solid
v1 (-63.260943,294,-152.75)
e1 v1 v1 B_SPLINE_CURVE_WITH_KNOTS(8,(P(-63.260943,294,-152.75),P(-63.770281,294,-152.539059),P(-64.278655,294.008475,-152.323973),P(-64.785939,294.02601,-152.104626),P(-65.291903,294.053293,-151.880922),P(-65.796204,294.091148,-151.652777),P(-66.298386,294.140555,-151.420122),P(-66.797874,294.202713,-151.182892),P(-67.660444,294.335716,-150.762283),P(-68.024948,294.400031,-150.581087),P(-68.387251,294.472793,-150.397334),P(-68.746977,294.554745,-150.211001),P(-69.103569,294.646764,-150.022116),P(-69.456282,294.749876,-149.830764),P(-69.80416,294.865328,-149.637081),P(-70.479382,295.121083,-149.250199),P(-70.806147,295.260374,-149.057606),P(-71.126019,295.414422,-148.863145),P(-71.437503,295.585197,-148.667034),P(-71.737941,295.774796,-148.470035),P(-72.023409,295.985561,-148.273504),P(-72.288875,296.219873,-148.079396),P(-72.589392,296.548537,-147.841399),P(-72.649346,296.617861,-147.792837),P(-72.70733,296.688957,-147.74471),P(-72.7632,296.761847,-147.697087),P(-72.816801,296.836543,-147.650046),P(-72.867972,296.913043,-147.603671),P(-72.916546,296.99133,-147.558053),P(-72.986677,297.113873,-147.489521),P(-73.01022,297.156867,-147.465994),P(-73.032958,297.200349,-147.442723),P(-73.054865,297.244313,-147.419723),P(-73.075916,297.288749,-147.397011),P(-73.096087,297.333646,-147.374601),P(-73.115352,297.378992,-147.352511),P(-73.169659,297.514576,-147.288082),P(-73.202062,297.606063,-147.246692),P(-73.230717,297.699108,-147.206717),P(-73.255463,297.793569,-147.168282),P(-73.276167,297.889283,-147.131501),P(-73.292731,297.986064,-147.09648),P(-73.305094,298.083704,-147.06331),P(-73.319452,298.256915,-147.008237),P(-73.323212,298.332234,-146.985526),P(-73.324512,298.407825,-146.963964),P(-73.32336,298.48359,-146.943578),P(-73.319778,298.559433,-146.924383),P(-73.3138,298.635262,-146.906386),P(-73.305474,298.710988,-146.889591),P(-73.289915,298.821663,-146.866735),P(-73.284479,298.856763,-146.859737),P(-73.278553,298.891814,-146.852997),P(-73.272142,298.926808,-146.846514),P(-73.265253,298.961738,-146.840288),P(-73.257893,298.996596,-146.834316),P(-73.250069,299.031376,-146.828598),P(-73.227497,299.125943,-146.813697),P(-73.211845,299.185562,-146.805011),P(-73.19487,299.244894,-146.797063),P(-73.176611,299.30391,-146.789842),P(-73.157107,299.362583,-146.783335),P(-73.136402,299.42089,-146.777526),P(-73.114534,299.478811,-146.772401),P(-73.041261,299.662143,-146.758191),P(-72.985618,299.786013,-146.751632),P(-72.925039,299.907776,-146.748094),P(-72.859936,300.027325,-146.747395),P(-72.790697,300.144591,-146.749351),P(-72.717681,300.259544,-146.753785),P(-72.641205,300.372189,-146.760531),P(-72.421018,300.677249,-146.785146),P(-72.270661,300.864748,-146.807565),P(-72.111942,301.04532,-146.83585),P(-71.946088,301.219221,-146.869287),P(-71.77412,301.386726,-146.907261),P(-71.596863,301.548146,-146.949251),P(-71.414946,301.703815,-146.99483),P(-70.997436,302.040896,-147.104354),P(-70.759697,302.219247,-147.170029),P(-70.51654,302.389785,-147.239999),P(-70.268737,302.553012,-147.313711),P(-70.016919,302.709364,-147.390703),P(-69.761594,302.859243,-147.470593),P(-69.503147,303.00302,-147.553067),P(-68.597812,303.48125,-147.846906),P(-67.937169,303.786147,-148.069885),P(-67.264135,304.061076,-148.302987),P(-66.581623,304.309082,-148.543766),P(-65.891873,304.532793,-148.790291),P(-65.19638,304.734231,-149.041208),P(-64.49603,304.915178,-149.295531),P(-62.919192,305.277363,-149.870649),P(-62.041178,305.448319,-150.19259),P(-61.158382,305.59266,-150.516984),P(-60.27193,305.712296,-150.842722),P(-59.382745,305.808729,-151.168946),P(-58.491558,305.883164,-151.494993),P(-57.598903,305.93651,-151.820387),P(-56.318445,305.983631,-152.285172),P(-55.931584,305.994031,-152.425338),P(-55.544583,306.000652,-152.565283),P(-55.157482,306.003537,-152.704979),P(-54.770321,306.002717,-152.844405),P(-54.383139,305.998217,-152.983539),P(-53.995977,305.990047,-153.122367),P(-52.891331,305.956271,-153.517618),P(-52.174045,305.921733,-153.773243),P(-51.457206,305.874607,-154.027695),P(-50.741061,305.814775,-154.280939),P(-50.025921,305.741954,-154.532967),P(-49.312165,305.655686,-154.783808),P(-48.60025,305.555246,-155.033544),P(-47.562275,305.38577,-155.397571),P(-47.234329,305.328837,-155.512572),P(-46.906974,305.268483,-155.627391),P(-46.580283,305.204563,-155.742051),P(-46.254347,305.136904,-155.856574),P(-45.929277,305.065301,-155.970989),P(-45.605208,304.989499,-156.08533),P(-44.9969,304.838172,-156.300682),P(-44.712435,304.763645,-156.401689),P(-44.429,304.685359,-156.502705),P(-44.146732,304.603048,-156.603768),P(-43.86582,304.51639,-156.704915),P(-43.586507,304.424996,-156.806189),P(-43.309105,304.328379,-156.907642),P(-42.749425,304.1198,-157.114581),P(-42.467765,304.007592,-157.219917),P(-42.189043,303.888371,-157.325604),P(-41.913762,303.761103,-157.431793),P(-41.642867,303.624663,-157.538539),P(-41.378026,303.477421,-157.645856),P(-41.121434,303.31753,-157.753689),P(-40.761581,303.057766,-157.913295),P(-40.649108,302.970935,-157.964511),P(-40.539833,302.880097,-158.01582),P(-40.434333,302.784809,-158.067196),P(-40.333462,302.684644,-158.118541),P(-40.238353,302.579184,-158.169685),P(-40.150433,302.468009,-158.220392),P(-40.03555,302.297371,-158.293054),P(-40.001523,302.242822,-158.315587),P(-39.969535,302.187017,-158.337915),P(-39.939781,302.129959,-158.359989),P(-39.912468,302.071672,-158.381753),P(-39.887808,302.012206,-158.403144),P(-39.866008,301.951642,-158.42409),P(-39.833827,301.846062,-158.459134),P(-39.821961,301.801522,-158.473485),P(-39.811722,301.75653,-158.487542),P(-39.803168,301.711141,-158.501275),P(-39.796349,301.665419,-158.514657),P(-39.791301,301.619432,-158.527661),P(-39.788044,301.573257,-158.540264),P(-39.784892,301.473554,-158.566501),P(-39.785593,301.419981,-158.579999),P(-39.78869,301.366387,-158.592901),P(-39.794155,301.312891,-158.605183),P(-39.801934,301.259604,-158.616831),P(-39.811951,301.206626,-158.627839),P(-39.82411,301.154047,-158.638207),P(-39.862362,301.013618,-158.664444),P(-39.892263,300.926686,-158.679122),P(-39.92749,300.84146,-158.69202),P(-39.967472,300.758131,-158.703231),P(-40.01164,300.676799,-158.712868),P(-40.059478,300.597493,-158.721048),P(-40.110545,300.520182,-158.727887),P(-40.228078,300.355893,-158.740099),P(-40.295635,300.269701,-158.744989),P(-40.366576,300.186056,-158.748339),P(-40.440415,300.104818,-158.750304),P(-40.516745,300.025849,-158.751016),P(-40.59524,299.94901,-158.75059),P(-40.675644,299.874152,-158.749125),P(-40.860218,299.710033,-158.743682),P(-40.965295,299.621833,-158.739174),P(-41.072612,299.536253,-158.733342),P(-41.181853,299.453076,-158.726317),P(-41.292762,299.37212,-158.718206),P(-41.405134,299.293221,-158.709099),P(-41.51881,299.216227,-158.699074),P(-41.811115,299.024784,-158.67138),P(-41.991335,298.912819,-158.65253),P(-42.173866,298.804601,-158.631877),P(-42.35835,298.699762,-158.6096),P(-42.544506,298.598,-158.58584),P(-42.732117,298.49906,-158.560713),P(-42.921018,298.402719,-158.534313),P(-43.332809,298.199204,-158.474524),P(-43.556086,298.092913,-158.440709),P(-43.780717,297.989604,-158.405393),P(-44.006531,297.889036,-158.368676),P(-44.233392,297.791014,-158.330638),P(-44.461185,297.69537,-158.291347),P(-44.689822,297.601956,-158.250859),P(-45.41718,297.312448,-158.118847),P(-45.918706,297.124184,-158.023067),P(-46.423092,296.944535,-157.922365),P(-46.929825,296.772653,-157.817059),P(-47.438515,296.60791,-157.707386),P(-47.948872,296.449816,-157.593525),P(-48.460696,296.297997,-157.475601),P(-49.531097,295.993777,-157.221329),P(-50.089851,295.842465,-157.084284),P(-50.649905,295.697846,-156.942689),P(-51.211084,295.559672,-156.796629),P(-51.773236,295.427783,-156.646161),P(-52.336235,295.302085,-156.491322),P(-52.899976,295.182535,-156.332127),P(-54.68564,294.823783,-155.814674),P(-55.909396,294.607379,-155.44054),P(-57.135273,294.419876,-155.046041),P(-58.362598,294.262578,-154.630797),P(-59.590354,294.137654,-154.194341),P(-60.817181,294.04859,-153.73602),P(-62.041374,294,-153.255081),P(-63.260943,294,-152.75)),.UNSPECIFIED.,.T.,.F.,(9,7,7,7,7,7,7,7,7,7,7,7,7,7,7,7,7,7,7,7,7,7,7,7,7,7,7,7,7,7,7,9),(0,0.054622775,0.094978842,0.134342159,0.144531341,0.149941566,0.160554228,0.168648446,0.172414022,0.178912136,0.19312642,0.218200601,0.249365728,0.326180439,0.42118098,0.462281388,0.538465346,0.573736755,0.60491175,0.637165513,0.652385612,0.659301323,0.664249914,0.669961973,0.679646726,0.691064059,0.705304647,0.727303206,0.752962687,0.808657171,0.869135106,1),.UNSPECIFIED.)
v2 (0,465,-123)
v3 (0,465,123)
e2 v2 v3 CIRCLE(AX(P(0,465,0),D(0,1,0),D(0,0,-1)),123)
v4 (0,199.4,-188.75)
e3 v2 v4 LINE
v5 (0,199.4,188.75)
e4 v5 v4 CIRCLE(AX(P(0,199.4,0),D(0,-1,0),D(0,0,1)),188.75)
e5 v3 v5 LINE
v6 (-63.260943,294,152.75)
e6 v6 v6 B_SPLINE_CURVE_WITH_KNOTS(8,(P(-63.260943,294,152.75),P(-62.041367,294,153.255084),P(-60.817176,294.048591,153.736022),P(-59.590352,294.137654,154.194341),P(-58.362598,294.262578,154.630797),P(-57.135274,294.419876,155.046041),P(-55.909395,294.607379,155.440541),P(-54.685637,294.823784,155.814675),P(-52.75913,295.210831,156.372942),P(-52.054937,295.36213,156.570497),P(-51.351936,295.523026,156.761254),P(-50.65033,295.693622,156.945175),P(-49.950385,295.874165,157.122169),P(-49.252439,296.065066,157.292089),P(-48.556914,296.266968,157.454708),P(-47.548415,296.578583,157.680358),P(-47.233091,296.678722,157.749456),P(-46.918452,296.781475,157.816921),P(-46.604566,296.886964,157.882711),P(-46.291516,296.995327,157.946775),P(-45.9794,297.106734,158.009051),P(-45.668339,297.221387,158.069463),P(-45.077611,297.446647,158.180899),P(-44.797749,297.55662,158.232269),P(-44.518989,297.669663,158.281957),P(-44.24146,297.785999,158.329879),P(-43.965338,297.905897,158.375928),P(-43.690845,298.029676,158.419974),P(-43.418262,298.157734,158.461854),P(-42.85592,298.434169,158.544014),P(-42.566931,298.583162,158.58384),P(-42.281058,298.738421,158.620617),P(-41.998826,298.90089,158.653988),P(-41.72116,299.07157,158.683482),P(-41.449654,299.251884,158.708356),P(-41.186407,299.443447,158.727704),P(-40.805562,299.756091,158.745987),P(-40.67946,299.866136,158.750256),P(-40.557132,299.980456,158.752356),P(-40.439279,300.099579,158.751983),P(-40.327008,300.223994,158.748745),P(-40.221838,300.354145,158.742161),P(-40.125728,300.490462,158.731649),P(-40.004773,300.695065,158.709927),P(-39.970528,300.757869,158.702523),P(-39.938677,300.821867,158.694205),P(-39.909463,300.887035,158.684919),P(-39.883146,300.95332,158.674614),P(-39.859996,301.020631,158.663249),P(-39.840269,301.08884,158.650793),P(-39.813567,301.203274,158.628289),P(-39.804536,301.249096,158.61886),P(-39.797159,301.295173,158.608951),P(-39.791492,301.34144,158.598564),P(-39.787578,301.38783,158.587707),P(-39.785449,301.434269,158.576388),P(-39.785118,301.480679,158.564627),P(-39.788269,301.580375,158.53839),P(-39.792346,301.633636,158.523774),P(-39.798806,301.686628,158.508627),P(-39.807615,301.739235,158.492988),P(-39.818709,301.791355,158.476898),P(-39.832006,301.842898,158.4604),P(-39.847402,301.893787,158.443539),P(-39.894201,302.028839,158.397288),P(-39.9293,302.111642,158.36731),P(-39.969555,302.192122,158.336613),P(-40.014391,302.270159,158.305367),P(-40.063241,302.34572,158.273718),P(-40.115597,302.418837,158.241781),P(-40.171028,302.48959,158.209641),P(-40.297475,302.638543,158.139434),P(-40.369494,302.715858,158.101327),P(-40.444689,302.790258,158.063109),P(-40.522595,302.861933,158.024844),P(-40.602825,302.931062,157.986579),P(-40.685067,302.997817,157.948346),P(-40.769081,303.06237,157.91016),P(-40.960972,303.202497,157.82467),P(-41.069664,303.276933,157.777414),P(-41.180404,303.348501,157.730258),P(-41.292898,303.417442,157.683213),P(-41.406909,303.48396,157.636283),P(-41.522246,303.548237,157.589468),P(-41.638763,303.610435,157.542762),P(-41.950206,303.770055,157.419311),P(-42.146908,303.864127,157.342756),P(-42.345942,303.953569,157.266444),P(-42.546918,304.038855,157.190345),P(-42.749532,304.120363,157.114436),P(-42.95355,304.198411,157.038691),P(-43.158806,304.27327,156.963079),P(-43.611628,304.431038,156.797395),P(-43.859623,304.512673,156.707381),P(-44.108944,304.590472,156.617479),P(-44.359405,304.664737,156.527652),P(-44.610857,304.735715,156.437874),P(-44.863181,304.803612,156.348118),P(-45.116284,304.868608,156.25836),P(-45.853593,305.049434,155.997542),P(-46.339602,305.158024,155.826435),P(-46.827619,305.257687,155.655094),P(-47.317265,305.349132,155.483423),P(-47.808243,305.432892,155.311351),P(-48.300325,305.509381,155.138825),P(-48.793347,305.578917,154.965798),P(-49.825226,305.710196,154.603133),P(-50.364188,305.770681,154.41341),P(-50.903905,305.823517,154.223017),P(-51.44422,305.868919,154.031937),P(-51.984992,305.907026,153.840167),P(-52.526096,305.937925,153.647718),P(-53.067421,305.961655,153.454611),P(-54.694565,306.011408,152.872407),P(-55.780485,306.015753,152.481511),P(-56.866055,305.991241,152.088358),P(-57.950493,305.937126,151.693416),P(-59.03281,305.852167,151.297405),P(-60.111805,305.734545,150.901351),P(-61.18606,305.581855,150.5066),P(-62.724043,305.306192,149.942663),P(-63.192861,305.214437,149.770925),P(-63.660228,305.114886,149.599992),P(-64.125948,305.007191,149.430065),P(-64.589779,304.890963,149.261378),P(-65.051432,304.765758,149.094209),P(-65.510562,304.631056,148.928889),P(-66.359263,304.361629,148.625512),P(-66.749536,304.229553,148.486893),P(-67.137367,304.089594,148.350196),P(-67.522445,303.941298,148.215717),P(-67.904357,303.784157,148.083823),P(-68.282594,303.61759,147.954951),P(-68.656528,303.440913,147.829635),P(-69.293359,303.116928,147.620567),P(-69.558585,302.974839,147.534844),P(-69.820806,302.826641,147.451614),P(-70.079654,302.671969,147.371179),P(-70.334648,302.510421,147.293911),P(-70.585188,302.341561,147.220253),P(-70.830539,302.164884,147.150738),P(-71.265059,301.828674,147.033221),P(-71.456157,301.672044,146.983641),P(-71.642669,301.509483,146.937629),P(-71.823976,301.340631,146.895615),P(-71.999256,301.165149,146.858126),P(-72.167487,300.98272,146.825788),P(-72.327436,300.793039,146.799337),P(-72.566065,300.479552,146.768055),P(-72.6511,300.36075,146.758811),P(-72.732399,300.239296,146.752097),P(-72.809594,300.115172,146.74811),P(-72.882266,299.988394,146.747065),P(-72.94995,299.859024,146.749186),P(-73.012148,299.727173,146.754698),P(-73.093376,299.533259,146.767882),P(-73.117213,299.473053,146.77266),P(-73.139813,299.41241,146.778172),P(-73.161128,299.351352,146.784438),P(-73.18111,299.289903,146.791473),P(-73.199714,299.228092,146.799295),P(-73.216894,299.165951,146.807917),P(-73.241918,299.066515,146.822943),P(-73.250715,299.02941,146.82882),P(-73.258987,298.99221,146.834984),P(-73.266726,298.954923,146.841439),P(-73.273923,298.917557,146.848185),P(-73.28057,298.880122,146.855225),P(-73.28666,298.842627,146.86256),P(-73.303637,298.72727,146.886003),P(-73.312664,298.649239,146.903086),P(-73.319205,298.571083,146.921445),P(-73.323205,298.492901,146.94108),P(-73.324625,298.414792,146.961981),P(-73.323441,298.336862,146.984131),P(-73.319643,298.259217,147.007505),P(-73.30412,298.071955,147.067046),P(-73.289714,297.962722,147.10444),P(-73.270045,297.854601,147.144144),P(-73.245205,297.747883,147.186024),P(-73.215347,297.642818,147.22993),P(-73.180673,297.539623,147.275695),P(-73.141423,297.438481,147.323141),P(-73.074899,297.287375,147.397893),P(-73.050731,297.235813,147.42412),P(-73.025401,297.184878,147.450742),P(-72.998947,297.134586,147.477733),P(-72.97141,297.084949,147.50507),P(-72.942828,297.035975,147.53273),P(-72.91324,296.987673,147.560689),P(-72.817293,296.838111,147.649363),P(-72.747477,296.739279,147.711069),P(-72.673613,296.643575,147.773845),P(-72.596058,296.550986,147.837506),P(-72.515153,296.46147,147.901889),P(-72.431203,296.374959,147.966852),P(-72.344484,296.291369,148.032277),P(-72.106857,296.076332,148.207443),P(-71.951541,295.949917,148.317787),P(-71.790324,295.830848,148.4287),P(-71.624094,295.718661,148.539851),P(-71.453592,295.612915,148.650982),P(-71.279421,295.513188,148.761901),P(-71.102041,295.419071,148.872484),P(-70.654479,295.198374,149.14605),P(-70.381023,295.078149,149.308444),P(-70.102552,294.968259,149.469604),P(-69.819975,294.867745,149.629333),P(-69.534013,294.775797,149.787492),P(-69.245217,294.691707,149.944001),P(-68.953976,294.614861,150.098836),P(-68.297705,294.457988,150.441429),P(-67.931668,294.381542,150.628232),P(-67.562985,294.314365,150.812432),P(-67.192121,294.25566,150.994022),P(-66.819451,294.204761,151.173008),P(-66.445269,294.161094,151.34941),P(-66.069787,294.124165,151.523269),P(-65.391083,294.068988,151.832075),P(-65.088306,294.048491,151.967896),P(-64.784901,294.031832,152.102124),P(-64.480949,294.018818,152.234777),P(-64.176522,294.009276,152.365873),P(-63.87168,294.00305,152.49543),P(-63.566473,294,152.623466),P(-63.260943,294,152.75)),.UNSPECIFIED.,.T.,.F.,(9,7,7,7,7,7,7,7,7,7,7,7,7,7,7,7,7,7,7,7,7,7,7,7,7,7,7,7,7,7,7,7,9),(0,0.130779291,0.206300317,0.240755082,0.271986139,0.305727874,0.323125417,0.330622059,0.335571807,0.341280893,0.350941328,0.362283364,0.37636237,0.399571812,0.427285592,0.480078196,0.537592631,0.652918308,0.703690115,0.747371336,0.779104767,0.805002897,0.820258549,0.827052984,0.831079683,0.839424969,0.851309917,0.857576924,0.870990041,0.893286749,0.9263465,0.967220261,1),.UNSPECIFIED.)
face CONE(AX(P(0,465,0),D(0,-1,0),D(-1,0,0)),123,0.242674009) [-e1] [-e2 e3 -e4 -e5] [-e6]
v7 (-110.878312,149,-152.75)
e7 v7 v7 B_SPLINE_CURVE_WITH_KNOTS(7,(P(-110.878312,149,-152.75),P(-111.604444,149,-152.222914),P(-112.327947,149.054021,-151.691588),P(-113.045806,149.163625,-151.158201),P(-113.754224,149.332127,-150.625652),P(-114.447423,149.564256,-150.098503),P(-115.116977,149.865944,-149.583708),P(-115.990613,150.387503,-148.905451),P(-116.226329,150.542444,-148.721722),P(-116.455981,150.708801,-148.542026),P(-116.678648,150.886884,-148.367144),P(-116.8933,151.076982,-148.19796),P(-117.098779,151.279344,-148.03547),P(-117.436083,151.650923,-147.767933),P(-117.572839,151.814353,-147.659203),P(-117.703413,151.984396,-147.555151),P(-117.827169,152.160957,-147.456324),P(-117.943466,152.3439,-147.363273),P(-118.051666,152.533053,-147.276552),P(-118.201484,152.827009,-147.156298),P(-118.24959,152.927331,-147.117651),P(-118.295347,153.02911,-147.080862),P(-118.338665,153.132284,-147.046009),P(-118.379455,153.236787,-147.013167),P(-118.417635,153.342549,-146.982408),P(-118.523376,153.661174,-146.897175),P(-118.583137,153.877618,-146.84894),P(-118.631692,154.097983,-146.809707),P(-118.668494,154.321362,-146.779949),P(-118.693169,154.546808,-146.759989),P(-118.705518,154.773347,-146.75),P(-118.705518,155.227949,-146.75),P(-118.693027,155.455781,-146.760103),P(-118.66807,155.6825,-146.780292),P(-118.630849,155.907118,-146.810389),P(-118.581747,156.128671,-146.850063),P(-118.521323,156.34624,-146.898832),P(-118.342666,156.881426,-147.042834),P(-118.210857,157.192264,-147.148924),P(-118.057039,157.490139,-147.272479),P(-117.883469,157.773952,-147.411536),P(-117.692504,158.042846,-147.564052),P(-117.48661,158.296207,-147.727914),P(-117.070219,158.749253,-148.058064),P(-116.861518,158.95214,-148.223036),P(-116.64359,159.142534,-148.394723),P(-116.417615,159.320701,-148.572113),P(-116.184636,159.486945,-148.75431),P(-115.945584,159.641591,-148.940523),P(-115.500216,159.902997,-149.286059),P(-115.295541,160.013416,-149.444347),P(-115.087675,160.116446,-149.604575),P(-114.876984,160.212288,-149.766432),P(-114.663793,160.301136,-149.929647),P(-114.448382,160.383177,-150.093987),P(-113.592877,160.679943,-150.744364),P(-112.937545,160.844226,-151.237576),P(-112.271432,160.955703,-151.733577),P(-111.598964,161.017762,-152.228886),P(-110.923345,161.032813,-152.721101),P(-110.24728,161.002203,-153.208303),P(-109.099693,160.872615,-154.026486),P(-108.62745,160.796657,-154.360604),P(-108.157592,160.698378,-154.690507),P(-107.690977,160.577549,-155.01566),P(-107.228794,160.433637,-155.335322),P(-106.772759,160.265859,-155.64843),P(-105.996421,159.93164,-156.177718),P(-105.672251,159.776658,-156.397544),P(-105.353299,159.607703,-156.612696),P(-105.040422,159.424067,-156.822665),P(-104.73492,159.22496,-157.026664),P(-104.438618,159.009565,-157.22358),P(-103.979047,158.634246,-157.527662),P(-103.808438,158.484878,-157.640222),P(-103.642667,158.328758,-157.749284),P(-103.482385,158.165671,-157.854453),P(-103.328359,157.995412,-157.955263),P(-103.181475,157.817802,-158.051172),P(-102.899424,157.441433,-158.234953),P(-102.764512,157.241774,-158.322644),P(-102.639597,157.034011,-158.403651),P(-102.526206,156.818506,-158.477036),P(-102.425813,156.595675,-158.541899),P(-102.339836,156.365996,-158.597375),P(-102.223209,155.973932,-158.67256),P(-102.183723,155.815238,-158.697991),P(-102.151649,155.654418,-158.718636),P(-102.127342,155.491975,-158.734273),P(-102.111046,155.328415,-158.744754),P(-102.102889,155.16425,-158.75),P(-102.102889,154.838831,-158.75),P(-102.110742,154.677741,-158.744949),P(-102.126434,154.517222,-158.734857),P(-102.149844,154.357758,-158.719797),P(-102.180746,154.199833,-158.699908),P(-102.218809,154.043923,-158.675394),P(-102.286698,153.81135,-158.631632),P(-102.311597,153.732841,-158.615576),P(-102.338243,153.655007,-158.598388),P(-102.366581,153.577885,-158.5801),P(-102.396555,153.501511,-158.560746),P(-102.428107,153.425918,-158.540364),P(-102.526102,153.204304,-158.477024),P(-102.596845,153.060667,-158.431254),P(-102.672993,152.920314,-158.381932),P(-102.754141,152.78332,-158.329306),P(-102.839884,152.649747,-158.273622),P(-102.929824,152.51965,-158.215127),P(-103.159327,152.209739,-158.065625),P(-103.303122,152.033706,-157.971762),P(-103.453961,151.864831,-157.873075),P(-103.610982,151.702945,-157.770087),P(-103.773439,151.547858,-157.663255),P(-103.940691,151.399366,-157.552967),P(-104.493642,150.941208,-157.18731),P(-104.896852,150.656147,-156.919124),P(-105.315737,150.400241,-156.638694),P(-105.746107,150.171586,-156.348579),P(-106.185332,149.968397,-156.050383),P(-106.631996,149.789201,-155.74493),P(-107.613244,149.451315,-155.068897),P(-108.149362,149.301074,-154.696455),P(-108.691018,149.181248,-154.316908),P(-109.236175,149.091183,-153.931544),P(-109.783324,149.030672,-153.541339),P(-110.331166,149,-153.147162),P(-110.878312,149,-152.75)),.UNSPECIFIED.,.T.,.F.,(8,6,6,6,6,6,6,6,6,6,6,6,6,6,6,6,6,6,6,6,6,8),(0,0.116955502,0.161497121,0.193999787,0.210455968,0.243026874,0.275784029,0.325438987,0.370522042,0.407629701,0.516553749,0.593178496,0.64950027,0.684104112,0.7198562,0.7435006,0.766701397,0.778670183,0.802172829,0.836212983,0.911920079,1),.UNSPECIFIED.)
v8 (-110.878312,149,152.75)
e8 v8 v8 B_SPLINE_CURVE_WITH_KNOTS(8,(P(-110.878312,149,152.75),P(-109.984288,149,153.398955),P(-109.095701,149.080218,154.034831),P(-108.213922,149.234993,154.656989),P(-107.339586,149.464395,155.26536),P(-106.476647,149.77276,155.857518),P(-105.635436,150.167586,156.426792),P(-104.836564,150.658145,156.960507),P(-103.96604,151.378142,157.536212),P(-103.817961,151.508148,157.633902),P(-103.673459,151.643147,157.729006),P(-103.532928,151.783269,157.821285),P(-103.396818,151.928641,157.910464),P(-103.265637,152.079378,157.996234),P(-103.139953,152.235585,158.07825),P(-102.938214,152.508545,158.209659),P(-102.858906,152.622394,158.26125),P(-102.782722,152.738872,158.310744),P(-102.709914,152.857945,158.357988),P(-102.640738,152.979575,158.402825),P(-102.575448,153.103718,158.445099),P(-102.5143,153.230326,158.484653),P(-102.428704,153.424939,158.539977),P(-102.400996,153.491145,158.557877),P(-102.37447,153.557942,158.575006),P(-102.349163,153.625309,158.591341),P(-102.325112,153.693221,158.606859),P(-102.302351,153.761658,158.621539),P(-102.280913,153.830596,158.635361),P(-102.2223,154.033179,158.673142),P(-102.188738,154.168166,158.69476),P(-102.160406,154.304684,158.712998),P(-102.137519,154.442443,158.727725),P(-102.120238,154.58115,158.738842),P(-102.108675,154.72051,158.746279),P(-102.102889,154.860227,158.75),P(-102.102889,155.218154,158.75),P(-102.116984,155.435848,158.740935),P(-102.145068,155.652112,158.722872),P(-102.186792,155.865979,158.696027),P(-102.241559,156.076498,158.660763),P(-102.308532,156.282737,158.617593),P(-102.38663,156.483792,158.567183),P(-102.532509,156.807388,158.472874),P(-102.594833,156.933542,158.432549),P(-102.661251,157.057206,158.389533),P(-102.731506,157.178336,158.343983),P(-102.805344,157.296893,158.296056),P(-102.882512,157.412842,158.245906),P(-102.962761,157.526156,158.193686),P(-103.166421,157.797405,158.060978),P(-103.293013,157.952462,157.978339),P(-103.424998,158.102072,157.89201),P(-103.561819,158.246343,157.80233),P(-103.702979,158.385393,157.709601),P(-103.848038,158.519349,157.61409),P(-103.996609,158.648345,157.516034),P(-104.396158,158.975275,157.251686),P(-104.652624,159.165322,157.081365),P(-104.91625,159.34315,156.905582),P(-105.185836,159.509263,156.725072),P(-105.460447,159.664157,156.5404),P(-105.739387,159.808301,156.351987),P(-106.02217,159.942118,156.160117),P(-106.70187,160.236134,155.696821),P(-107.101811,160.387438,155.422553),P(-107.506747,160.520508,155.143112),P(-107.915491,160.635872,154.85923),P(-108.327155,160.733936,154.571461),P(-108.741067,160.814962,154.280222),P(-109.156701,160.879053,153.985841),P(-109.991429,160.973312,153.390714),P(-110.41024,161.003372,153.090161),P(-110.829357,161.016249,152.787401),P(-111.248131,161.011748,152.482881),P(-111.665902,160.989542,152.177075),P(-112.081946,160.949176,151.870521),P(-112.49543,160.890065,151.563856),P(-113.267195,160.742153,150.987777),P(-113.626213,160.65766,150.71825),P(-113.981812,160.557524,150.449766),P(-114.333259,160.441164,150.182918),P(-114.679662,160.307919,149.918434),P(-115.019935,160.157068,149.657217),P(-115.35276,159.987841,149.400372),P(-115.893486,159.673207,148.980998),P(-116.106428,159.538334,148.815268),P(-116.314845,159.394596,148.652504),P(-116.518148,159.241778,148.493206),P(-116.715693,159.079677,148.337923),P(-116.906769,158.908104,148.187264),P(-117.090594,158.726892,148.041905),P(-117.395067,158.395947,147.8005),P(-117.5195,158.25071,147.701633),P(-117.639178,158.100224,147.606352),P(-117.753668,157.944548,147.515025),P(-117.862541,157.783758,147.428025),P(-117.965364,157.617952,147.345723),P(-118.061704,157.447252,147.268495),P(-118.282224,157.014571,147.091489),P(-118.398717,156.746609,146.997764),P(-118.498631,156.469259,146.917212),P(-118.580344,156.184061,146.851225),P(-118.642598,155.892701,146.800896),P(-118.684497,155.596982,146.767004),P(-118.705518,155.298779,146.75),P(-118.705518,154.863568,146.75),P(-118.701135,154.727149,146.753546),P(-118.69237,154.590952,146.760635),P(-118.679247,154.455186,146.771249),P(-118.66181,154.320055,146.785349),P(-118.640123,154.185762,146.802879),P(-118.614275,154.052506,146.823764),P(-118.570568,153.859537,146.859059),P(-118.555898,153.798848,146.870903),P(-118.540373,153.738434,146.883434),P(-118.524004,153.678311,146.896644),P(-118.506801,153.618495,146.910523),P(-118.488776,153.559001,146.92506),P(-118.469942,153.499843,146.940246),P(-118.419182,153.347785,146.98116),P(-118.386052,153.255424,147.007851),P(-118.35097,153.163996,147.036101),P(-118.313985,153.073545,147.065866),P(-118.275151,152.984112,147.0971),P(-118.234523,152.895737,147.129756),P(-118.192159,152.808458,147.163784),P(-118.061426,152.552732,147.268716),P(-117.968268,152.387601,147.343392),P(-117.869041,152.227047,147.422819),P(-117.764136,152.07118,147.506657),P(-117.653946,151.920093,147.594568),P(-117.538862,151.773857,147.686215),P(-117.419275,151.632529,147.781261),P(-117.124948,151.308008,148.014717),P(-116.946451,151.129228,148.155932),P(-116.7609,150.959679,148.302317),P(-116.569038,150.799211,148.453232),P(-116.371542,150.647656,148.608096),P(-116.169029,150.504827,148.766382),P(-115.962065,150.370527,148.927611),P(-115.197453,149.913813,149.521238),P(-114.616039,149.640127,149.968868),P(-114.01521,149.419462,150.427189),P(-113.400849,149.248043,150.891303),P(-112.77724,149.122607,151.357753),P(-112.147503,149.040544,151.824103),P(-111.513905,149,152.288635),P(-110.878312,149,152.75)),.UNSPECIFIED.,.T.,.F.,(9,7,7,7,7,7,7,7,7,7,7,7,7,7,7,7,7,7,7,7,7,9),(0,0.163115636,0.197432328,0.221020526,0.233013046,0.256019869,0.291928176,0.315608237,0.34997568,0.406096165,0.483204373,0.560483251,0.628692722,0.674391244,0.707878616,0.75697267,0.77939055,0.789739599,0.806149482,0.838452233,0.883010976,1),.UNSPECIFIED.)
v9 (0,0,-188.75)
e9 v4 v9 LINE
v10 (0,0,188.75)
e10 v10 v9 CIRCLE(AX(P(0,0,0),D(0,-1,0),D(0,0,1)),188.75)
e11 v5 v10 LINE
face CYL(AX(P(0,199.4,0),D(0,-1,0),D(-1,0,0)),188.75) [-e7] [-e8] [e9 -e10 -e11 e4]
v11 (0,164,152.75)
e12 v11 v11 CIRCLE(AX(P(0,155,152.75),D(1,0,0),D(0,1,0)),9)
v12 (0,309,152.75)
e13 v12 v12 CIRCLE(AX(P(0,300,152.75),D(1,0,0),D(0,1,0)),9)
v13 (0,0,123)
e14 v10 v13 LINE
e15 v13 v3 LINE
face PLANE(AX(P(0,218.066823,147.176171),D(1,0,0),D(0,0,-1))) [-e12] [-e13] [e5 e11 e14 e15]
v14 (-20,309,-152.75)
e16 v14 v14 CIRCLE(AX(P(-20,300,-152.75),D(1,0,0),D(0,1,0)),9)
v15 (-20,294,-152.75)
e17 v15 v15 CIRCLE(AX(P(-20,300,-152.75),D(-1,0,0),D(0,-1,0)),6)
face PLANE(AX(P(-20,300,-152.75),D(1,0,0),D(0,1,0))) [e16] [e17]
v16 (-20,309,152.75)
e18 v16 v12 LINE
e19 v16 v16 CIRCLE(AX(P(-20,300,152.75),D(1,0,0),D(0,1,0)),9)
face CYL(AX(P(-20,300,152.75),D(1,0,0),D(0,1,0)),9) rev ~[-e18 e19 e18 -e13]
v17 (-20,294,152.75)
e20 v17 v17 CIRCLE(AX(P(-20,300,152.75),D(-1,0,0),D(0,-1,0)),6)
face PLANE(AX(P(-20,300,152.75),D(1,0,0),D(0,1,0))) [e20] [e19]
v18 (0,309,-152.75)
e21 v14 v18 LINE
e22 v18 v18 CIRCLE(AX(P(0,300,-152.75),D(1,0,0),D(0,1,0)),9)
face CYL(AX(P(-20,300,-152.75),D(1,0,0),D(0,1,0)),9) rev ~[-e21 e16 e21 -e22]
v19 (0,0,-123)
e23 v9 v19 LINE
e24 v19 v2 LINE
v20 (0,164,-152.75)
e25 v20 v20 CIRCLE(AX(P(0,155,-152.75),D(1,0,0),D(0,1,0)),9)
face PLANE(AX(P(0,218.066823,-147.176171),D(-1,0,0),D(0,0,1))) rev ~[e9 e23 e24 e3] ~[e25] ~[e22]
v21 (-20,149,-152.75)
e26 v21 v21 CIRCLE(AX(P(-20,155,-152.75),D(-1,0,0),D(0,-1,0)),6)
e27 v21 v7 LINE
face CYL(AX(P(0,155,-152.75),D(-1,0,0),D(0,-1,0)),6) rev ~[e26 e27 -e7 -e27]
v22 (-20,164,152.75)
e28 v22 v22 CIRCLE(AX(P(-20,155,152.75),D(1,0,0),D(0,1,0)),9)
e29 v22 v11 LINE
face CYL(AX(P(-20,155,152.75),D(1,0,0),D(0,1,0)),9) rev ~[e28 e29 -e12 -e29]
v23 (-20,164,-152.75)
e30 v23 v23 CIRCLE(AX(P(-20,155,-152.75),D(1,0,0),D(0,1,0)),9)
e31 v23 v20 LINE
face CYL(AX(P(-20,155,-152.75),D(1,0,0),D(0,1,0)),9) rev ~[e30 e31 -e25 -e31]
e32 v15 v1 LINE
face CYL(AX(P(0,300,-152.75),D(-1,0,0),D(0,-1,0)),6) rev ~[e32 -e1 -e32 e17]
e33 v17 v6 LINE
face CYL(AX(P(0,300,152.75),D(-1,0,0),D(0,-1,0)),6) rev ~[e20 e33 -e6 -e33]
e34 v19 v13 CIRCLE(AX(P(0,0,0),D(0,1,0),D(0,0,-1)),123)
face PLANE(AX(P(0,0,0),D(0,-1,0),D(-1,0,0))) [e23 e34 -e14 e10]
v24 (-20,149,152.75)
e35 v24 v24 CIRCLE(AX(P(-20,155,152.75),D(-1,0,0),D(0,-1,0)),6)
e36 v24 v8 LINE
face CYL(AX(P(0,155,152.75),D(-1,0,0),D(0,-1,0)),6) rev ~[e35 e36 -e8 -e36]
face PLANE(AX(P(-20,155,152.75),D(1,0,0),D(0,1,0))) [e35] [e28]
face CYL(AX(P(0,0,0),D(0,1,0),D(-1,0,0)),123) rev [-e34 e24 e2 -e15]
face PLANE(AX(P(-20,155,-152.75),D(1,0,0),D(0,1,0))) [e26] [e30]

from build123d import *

# Parameters (mm, degrees)
F2_ANGLE       = 180
F4_D           = 12
F4_CBORE_D     = 18
F4_CBORE_DEPTH = 20


with BuildPart() as f2:
    # F0 (on Top) → F2 (revolve, symmetric)
    with BuildSketch(Plane.XY) as f2_sk:
        Polygon((-188.75, 0), (-123, 0), (-123, 465), (-188.75, 199.4), align=None)
    revolve(axis=Axis((0, 70.437513, 0), (0, 1, 0)), revolution_arc=F2_ANGLE / 2)
    revolve(f2_sk.sketch, axis=Axis((0, 70.437513, 0), (0, -1, 0)), revolution_arc=F2_ANGLE / 2)

    # F4 (through all)
    with Locations(Plane.YZ):
        with Locations((155, 152.75), (300, 152.75), (300, -152.75), (155, -152.75)):
            CounterBoreHole(F4_D / 2, F4_CBORE_D / 2, F4_CBORE_DEPTH)


solid = f2.part
